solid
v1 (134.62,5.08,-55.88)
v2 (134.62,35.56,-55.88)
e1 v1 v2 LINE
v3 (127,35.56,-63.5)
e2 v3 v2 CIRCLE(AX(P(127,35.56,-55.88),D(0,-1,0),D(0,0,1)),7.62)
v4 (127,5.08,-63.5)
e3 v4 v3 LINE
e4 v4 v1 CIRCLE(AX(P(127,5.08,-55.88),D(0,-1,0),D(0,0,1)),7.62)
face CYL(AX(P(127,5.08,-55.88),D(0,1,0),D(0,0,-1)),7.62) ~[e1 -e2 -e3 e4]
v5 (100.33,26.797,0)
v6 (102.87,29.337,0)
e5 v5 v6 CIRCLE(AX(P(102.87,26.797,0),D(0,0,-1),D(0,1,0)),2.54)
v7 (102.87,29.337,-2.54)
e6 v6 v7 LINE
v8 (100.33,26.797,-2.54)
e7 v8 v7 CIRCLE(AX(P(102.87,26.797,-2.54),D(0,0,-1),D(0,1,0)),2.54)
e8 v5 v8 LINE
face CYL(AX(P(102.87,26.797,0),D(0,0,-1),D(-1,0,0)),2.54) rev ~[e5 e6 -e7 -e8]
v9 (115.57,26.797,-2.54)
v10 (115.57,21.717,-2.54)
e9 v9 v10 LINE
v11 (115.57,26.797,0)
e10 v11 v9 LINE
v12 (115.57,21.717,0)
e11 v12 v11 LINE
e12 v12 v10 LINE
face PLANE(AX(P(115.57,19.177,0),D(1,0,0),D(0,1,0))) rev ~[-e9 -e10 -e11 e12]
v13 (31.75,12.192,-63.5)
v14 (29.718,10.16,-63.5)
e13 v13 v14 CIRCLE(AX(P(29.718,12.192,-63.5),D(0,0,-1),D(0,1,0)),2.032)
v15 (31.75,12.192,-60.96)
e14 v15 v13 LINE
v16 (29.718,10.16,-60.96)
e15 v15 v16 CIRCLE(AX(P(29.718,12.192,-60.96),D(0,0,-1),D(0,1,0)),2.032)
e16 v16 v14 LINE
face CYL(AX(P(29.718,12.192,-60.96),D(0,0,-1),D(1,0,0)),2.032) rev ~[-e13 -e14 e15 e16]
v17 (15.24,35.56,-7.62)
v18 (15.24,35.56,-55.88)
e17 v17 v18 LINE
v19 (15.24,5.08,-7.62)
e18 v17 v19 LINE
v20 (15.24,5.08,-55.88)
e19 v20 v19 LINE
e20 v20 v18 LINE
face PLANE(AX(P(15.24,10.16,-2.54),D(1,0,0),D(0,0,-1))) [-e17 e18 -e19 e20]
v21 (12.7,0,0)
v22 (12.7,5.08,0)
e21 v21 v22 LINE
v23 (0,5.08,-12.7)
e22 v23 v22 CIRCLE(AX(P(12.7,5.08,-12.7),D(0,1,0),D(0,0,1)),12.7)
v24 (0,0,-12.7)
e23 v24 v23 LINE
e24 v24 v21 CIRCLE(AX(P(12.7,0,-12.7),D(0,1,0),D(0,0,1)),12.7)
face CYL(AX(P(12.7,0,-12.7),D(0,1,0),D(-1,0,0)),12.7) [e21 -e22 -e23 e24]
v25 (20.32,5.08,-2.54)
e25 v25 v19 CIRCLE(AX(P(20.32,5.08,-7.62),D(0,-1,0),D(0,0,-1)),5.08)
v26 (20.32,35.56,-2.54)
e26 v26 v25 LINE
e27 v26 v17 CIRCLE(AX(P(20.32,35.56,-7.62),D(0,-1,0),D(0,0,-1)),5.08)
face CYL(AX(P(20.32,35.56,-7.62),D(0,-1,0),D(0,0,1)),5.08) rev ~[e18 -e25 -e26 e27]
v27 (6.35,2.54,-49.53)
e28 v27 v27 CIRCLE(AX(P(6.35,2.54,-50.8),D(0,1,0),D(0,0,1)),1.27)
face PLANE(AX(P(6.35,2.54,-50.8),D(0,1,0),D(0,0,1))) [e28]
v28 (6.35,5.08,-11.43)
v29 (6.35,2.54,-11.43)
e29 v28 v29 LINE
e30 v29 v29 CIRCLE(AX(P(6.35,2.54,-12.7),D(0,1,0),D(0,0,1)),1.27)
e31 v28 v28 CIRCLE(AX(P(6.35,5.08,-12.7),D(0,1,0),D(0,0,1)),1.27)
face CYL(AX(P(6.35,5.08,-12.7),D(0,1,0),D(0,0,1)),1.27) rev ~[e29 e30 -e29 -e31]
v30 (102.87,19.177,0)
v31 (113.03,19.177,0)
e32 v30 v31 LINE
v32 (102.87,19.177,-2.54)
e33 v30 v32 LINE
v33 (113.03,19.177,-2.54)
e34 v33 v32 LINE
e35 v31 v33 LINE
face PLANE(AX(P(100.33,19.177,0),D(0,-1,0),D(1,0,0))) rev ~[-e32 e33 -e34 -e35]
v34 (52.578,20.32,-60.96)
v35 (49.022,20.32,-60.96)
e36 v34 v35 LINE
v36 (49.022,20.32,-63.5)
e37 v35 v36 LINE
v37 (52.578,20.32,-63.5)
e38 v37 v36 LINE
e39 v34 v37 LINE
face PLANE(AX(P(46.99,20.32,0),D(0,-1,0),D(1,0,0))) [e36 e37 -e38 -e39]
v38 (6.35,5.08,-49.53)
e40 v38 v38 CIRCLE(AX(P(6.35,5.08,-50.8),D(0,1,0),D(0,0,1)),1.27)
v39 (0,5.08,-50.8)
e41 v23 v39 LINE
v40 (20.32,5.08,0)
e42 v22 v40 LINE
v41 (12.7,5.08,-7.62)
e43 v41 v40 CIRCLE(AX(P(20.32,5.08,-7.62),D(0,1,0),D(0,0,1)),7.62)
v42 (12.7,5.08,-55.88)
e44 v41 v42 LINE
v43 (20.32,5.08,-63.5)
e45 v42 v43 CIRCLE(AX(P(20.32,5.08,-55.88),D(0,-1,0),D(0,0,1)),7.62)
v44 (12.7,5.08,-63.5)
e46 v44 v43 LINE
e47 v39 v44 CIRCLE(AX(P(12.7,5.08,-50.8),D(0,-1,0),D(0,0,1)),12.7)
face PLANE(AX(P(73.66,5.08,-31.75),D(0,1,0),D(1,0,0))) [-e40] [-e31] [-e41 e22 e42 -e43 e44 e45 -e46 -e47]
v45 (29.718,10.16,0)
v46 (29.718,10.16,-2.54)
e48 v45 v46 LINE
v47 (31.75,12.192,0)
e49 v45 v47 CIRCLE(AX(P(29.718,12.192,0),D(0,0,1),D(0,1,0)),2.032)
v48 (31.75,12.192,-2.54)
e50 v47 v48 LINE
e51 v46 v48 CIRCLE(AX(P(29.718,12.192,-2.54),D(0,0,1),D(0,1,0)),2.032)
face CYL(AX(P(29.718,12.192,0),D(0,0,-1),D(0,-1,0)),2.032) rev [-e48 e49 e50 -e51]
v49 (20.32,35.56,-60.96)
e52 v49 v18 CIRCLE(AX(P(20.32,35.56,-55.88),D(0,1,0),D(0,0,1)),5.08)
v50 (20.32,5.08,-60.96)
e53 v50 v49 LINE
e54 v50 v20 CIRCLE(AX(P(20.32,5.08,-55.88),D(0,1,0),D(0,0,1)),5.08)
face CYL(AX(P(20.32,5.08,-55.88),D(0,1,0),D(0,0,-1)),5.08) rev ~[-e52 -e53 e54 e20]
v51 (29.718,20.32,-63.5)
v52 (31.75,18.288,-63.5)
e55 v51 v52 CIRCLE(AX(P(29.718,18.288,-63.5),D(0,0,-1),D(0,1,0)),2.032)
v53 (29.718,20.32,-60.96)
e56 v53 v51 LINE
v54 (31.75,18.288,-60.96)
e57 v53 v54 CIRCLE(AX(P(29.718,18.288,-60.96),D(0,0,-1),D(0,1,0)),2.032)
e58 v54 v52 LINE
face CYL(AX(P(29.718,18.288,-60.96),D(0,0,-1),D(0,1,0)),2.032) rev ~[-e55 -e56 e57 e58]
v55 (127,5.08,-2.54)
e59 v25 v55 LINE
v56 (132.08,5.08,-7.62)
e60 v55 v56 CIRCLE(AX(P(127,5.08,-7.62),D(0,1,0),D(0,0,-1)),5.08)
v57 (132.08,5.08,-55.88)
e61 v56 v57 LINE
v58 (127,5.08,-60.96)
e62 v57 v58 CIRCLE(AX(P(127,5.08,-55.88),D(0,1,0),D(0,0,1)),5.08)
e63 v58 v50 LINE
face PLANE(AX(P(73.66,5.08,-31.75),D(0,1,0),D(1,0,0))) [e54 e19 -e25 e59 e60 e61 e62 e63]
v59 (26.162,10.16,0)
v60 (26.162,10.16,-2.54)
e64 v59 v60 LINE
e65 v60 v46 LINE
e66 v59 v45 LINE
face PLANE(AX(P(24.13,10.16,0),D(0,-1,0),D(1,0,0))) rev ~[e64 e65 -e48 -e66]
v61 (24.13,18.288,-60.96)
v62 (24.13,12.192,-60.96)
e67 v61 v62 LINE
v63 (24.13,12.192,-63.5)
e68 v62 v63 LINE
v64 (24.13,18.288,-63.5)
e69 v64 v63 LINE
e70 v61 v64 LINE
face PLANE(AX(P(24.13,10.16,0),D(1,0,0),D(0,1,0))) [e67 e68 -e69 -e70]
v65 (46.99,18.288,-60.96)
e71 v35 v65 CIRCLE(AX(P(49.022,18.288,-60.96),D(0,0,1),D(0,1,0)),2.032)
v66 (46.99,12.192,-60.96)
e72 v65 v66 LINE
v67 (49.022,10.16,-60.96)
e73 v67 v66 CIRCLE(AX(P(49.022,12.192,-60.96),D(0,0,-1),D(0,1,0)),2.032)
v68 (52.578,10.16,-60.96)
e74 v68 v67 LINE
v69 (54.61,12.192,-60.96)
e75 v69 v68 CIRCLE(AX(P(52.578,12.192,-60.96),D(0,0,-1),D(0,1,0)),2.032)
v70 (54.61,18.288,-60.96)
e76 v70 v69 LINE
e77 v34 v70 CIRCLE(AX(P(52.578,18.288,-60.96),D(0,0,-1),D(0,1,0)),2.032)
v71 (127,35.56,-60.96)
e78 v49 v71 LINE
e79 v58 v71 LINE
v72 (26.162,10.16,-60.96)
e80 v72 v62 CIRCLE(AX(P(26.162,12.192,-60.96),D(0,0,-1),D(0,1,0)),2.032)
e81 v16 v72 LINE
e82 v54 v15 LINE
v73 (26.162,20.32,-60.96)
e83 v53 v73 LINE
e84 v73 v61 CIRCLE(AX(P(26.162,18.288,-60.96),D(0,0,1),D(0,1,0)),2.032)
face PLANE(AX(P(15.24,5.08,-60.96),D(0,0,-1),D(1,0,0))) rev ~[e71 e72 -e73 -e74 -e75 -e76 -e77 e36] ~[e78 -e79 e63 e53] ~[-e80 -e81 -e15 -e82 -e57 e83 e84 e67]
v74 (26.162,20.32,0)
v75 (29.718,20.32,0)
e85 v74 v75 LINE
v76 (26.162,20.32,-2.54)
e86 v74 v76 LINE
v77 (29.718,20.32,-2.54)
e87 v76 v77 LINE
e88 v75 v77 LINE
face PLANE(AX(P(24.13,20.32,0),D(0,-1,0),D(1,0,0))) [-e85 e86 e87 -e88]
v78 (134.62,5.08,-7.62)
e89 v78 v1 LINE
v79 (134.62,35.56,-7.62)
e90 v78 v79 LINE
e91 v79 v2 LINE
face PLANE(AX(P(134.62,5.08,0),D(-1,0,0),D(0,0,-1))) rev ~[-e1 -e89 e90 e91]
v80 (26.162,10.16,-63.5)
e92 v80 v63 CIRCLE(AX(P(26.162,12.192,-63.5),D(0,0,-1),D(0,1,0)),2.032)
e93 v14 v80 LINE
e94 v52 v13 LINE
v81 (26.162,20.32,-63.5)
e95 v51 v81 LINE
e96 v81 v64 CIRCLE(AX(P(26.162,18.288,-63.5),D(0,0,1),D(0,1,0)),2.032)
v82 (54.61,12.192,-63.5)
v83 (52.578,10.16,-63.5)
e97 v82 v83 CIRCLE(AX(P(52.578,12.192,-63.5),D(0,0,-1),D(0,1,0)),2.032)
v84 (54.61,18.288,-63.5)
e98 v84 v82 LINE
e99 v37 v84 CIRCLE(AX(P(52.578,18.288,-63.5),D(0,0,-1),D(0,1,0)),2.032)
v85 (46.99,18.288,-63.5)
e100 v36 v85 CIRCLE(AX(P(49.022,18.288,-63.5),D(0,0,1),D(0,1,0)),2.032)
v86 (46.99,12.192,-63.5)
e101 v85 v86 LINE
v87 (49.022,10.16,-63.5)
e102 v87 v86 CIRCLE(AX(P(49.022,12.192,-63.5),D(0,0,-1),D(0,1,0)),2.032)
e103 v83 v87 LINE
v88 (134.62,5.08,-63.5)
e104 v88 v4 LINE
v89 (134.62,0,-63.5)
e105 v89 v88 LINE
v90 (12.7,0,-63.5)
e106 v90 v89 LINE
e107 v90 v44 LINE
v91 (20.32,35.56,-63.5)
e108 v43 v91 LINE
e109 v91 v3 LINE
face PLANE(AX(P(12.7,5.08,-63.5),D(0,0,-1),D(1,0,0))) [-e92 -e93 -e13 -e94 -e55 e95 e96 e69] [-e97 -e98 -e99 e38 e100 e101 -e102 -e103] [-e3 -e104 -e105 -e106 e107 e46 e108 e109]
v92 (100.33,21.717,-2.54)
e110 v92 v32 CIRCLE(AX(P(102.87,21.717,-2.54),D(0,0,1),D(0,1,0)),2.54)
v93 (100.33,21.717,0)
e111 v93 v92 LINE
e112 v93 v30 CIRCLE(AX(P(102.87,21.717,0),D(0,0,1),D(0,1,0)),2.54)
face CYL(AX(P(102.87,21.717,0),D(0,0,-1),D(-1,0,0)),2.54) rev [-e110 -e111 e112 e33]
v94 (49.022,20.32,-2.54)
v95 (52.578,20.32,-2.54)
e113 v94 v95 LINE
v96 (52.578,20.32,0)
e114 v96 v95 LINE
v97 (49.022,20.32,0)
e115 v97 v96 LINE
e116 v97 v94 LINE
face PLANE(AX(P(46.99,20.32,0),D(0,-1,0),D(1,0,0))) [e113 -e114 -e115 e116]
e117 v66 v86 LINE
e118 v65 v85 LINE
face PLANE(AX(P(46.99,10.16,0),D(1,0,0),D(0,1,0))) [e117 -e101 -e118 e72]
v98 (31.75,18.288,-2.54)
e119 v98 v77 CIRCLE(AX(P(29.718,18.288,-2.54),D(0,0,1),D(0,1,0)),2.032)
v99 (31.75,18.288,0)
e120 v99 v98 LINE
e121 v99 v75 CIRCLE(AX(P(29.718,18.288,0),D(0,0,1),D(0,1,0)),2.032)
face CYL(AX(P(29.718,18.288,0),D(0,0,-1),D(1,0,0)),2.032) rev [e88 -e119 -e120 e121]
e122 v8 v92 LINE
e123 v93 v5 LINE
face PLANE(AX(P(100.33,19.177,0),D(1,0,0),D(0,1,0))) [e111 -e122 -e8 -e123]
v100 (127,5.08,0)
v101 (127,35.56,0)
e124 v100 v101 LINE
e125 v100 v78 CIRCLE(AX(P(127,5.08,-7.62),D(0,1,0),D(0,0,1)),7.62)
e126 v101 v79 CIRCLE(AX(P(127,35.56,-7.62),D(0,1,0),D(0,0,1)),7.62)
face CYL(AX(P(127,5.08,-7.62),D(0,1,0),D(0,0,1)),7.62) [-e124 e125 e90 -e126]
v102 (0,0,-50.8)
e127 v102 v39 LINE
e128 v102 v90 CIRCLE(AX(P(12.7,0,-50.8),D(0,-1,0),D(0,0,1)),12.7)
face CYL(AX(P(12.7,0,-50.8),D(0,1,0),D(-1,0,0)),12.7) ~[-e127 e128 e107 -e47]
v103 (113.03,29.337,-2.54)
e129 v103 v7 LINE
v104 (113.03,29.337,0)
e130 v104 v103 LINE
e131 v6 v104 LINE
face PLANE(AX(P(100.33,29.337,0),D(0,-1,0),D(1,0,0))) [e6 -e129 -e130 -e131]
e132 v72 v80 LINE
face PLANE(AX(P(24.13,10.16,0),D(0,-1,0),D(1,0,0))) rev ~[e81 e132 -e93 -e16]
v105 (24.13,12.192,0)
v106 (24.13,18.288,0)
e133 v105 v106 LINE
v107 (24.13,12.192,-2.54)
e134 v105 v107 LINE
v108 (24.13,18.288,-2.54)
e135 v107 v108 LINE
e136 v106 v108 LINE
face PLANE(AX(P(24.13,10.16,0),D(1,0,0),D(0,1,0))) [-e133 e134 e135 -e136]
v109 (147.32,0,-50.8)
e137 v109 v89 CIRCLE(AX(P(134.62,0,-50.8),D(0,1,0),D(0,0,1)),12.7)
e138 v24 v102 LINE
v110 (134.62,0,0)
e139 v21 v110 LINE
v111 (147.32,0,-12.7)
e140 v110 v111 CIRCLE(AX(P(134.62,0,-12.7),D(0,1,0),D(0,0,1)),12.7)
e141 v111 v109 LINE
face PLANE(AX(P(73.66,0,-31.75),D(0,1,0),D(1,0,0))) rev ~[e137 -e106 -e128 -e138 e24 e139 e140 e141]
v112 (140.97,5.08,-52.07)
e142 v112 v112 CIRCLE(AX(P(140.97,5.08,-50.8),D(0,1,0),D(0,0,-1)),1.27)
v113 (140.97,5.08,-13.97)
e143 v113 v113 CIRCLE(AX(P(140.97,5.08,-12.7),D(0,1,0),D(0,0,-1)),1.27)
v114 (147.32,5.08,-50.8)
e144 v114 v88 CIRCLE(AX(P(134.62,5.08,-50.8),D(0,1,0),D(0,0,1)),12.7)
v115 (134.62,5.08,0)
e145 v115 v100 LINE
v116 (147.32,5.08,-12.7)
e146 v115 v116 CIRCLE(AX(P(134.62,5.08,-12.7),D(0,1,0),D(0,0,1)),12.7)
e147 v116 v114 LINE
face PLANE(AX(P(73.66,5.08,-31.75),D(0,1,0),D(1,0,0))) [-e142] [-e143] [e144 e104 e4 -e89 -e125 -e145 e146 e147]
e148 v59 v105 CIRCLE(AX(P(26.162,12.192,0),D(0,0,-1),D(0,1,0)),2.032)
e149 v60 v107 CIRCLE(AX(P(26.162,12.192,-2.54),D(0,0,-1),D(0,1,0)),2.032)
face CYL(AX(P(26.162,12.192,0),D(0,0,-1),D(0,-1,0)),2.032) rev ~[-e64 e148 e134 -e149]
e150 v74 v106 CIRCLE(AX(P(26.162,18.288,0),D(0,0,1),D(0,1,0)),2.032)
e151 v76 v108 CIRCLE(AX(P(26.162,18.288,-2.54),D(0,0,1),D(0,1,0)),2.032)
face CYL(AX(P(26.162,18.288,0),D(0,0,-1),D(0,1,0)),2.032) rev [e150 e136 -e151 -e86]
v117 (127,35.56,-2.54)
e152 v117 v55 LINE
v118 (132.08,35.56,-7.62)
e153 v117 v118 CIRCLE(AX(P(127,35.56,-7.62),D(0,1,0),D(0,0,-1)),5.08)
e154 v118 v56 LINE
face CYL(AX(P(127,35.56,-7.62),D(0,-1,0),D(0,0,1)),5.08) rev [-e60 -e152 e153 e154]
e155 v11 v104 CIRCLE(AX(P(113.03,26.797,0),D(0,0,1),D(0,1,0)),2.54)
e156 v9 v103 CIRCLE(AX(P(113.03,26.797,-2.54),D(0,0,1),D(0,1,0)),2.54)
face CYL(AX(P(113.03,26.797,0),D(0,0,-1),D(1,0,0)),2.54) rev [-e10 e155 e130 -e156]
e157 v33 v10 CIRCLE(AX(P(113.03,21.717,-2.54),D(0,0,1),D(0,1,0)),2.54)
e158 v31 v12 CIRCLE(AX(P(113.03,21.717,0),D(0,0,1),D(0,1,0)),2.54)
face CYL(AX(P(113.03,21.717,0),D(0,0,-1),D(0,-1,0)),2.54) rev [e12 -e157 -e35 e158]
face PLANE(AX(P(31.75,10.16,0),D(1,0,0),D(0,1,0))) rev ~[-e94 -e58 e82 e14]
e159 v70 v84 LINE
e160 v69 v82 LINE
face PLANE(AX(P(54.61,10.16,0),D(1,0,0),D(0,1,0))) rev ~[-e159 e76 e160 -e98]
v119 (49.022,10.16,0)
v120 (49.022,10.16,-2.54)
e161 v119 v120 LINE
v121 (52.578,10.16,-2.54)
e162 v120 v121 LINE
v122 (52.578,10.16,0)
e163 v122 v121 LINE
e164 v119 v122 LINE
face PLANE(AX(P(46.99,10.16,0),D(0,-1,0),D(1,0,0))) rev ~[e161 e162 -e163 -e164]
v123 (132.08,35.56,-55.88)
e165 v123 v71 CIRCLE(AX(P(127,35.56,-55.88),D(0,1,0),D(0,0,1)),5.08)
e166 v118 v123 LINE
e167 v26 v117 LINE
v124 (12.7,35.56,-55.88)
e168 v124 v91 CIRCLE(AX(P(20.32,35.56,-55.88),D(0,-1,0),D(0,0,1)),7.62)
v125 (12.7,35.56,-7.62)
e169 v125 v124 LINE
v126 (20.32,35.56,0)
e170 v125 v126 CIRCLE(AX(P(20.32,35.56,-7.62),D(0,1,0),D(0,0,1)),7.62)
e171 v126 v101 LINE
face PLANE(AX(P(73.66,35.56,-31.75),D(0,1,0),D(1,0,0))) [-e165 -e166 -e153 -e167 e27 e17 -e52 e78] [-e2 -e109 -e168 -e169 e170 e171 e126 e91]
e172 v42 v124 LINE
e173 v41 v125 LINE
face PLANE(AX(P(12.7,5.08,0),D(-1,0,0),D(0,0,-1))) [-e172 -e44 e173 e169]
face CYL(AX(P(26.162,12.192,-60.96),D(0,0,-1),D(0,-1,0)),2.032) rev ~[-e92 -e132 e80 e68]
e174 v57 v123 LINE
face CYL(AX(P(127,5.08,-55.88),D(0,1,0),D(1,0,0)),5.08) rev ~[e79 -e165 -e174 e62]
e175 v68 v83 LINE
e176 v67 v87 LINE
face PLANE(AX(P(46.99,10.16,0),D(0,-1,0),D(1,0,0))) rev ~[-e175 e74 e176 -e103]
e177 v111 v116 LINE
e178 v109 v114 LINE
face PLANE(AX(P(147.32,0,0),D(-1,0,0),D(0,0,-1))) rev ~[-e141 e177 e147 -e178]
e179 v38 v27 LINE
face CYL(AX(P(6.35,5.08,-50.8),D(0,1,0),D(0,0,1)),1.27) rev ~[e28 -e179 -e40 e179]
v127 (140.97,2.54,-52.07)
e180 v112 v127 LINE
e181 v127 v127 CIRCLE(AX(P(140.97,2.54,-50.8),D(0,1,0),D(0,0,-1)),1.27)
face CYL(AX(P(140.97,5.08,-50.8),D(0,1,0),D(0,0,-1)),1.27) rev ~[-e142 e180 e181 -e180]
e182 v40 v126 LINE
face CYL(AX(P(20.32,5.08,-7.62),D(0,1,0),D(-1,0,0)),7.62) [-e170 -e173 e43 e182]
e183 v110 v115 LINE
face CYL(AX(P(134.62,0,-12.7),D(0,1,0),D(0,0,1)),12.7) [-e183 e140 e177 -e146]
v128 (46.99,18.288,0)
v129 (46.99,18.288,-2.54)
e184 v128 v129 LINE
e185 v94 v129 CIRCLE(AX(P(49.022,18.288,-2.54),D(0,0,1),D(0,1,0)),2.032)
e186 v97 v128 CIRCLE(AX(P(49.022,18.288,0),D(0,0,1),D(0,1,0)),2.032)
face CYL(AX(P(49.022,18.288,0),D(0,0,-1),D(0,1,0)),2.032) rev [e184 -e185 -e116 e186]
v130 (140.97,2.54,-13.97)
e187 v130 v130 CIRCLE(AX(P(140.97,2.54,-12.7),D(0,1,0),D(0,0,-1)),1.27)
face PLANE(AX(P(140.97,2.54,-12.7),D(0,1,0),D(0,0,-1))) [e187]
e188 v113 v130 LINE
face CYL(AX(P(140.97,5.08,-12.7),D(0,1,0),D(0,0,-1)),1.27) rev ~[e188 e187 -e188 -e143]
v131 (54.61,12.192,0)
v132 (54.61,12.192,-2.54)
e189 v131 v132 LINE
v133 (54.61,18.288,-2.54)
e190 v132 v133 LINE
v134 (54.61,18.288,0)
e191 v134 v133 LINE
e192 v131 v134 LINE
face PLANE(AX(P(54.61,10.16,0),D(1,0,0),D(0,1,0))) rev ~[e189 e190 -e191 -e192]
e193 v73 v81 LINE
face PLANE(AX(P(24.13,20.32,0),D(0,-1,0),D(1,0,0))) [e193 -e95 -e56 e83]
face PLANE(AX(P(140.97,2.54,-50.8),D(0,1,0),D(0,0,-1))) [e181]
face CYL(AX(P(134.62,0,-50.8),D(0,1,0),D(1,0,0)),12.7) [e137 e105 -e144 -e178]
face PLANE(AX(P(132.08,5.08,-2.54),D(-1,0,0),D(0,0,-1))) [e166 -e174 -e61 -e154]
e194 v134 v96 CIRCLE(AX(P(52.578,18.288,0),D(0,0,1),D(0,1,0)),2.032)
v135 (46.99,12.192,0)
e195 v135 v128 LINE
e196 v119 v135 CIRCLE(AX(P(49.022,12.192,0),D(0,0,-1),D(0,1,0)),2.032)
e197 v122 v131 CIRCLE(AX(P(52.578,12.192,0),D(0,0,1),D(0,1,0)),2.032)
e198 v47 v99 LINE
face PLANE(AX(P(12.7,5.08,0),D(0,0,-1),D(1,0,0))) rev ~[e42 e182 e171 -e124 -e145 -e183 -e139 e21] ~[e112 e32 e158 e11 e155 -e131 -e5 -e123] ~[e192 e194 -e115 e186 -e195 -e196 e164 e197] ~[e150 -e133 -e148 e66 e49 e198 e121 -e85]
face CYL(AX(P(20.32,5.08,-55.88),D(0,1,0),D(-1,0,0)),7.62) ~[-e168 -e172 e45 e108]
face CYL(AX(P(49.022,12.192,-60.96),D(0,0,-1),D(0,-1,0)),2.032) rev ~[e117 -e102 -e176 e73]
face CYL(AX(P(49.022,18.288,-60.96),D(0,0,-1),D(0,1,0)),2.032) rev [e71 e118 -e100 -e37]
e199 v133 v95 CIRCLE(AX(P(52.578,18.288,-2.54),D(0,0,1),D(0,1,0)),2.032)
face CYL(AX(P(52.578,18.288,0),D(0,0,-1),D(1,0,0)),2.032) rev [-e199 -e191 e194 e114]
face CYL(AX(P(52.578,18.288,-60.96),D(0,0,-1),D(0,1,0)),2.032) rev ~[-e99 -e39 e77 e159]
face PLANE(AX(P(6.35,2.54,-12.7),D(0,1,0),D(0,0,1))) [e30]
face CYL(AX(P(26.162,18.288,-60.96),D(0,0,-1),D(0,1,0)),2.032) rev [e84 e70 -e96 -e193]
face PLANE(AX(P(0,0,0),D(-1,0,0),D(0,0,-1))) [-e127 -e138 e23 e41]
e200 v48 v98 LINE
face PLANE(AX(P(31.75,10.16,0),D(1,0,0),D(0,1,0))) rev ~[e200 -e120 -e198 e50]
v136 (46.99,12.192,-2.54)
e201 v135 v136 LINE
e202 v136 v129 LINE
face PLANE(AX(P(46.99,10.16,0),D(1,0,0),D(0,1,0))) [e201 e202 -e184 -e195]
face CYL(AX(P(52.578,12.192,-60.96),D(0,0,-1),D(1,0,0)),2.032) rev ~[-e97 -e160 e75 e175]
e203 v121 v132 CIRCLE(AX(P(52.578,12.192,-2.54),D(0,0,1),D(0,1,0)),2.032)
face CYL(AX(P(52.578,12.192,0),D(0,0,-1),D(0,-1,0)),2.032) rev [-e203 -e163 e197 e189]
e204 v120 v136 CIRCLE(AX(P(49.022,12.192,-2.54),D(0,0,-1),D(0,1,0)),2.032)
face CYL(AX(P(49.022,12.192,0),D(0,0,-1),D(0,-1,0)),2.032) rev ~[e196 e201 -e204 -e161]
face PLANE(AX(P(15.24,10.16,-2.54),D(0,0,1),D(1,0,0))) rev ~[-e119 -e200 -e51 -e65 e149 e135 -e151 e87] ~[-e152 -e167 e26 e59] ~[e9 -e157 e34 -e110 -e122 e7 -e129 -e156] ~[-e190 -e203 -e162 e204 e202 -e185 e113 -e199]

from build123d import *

# Parameters (mm, degrees)
SKETCH1_W            = 147.32
SKETCH1_H            = 63.5
BOSS_EXTRUDE3_DEPTH  = 5.08
FILLET4_R            = 12.7
SKETCH4_W            = 121.92
SKETCH4_H            = 63.5
SKETCH4_W_2          = 116.84
SKETCH4_H_2          = 58.42
BOSS_EXTRUDE4_DEPTH  = 30.48
SKETCH9_W            = 10.16
SKETCH9_H            = 10.16
BOSS_EXTRUDE5_DEPTH  = 5.08
FILLET9_R            = 5.08
SKETCH10_R           = 3.175
CUT_EXTRUDE7_DEPTH   = 163.421034352
FILLET12_R           = 7.62
SKETCH11_R           = 3.175
SKETCH11_R_2         = 1.27
BOSS_EXTRUDE7_DEPTH  = 5.08
SKETCH15_R           = 1.27
CUT_EXTRUDE10_DEPTH  = 2.54
BOSS_EXTRUDE9_START  = -2.54
SKETCH16_R           = 3.175
BOSS_EXTRUDE9_DEPTH  = 2.54
SKETCH17_W           = 116.84
SKETCH17_H           = 58.42
CUT_EXTRUDE11_DEPTH  = 5.08
SKETCH18_W           = 116.84
SKETCH18_H           = 58.42
BOSS_EXTRUDE10_DEPTH = 5.08
FILLET16_R           = 5.08
SKETCH13_W           = 7.62
SKETCH13_H           = 10.16
CUT_EXTRUDE12_DEPTH  = 165.316602935
FILLET17_R           = 2.032
CUT_EXTRUDE14_REACH  = 166.317
SKETCH12_W           = 15.24
SKETCH12_H           = 10.16
FILLET18_R           = 2.54


with BuildPart() as part:
    # Sketch1 → Boss-Extrude3 (new body)
    with BuildSketch(Plane(origin=(0, 0, 0), x_dir=(1, 0, 0), z_dir=(0, 1, 0))):
        with Locations((73.66, 31.75)):
            Rectangle(SKETCH1_W, SKETCH1_H)
    extrude(amount=BOSS_EXTRUDE3_DEPTH)

    # Fillet4
    fillet4_edges = [part.edges().sort_by_distance(p)[0] for p in [
        (0, 2.54, -63.5),
        (147.32, 2.54, -63.5),
        (147.32, 2.54, 0),
        (0, 2.54, 0),
    ]]
    fillet(fillet4_edges, radius=FILLET4_R)

    # Sketch4 → Boss-Extrude4 (add)
    with BuildSketch(Plane(origin=(0, 5.08, 0), x_dir=(1, 0, 0), z_dir=(0, 1, 0))):
        with Locations((73.66, 31.75)):
            Rectangle(SKETCH4_W, SKETCH4_H)
        with Locations((73.66, 31.75)):
            Rectangle(SKETCH4_W_2, SKETCH4_H_2, mode=Mode.SUBTRACT)
    extrude(amount=BOSS_EXTRUDE4_DEPTH)

    # Sketch9 → Boss-Extrude5 (add)
    with BuildSketch(Plane(origin=(0, 5.08, 0), x_dir=(1, 0, 0), z_dir=(0, 1, 0))):
        with Locations((20.32, 55.88)):
            Rectangle(SKETCH9_W, SKETCH9_H)
        with Locations((127, 55.88)):
            Rectangle(SKETCH9_W, SKETCH9_H)
        with Locations((127, 7.62)):
            Rectangle(SKETCH9_W, SKETCH9_H)
        with Locations((20.32, 7.62)):
            Rectangle(SKETCH9_W, SKETCH9_H)
    extrude(amount=BOSS_EXTRUDE5_DEPTH)

    # Fillet9
    fillet9_edges = [part.edges().sort_by_distance(p)[0] for p in [
        (25.4, 7.62, -12.7),
        (25.4, 7.62, -50.8),
        (121.92, 7.62, -50.8),
        (121.92, 7.62, -12.7),
    ]]
    fillet(fillet9_edges, radius=FILLET9_R)

    # Sketch10 → Cut-Extrude7 (cut, through all)
    with BuildSketch(Plane(origin=(0, 10.16, 0), x_dir=(1, 0, 0), z_dir=(0, 1, 0))):
        with Locations(Location((20.32, 55.88, 0), (0, 0, 270))):
            Circle(SKETCH10_R)
        with Locations(Location((127, 55.88, 0), (0, 0, 270))):
            Circle(SKETCH10_R)
        with Locations(Location((20.32, 7.62, 0), (0, 0, 270))):
            Circle(SKETCH10_R)
        with Locations(Location((127, 7.62, 0), (0, 0, 270))):
            Circle(SKETCH10_R)
    extrude(amount=-CUT_EXTRUDE7_DEPTH, mode=Mode.SUBTRACT)

    # Fillet12
    fillet12_edges = [part.edges().sort_by_distance(p)[0] for p in [
        (12.7, 20.32, -63.5),
        (12.7, 20.32, 0),
        (134.62, 20.32, 0),
        (134.62, 20.32, -63.5),
    ]]
    fillet(fillet12_edges, radius=FILLET12_R)

    # Sketch11 → Boss-Extrude7 (add)
    # profile 1 of 4: a face of its own
    with BuildSketch(Plane(origin=(0, 10.16, 0), x_dir=(1, 0, 0), z_dir=(0, 1, 0))):
        with Locations(Location((20.32, 55.88, 0), (0, 0, 270))):
            Circle(SKETCH11_R)
        with Locations(Location((20.32, 55.88, 0), (0, 0, 270))):
            Circle(SKETCH11_R_2, mode=Mode.SUBTRACT)
    # profile 2 of 4: a face of its own
    with BuildSketch(Plane(origin=(0, 10.16, 0), x_dir=(1, 0, 0), z_dir=(0, 1, 0))):
        with Locations(Location((127, 55.88, 0), (0, 0, 270))):
            Circle(SKETCH11_R)
        with Locations(Location((127, 55.88, 0), (0, 0, 270))):
            Circle(SKETCH11_R_2, mode=Mode.SUBTRACT)
    # profile 3 of 4: a face of its own
    with BuildSketch(Plane(origin=(0, 10.16, 0), x_dir=(1, 0, 0), z_dir=(0, 1, 0))):
        with Locations(Location((20.32, 7.62, 0), (0, 0, 270))):
            Circle(SKETCH11_R)
        with Locations(Location((20.32, 7.62, 0), (0, 0, 270))):
            Circle(SKETCH11_R_2, mode=Mode.SUBTRACT)
    # profile 4 of 4: a face of its own
    with BuildSketch(Plane(origin=(0, 10.16, 0), x_dir=(1, 0, 0), z_dir=(0, 1, 0))):
        with Locations(Location((127, 7.62, 0), (0, 0, 270))):
            Circle(SKETCH11_R)
        with Locations(Location((127, 7.62, 0), (0, 0, 270))):
            Circle(SKETCH11_R_2, mode=Mode.SUBTRACT)
    extrude(amount=-BOSS_EXTRUDE7_DEPTH)

    # Sketch15 → Cut-Extrude10 (cut)
    with BuildSketch(Plane(origin=(0, 5.08, 0), x_dir=(1, 0, 0), z_dir=(0, 1, 0))):
        with Locations(Location((6.35, 50.8, 0), (0, 0, 270))):
            Circle(SKETCH15_R)
        with Locations(Location((6.35, 12.7, 0), (0, 0, 270))):
            Circle(SKETCH15_R)
        with Locations(Location((140.97, 12.7, 0), (0, 0, 90))):
            Circle(SKETCH15_R)
        with Locations(Location((140.97, 50.8, 0), (0, 0, 90))):
            Circle(SKETCH15_R)
    extrude(amount=-CUT_EXTRUDE10_DEPTH, mode=Mode.SUBTRACT)

    # Sketch16 → Boss-Extrude9 (add)
    with BuildSketch(Plane.XZ.offset(BOSS_EXTRUDE9_START)):
        with Locations(Location((20.32, -7.62, 0), (0, 0, 90))):
            Circle(SKETCH16_R)
        with Locations(Location((127, -7.62, 0), (0, 0, 90))):
            Circle(SKETCH16_R)
        with Locations(Location((20.32, -55.88, 0), (0, 0, 90))):
            Circle(SKETCH16_R)
        with Locations(Location((127, -55.88, 0), (0, 0, 90))):
            Circle(SKETCH16_R)
    extrude(amount=BOSS_EXTRUDE9_DEPTH)

    # Sketch17 → Cut-Extrude11 (cut)
    with BuildSketch(Plane(origin=(0, 10.16, 0), x_dir=(1, 0, 0), z_dir=(0, 1, 0))):
        with Locations((73.66, 31.75)):
            Rectangle(SKETCH17_W, SKETCH17_H)
    extrude(amount=-CUT_EXTRUDE11_DEPTH, mode=Mode.SUBTRACT)

    # Sketch18 → Boss-Extrude10 (add)
    with BuildSketch(Plane(origin=(0, 5.08, 0), x_dir=(1, 0, 0), z_dir=(0, 1, 0))):
        with Locations((73.66, 31.75)):
            Rectangle(SKETCH18_W, SKETCH18_H)
    extrude(amount=-BOSS_EXTRUDE10_DEPTH)

    # Fillet16
    fillet16_edges = [part.edges().sort_by_distance(p)[0] for p in [
        (15.24, 20.32, -2.54),
        (132.08, 20.32, -2.54),
        (132.08, 20.32, -60.96),
        (15.24, 20.32, -60.96),
    ]]
    fillet(fillet16_edges, radius=FILLET16_R)

    # Sketch13 → Cut-Extrude12 (cut, through all)
    with BuildSketch(Plane.XY):
        with Locations((27.94, 15.24)):
            Rectangle(SKETCH13_W, SKETCH13_H)
        with Locations((50.8, 15.24)):
            Rectangle(SKETCH13_W, SKETCH13_H)
    extrude(amount=-CUT_EXTRUDE12_DEPTH, mode=Mode.SUBTRACT)

    # Fillet17
    fillet17_edges = [part.edges().sort_by_distance(p)[0] for p in [
        (24.13, 10.16, -1.27),
        (24.13, 20.32, -1.27),
        (31.75, 20.32, -1.27),
        (31.75, 10.16, -1.27),
        (24.13, 10.16, -62.23),
        (24.13, 20.32, -62.23),
        (31.75, 20.32, -62.23),
        (31.75, 10.16, -62.23),
        (46.99, 10.16, -1.27),
        (46.99, 20.32, -1.27),
        (54.61, 20.32, -1.27),
        (54.61, 10.16, -1.27),
        (46.99, 10.16, -62.23),
        (46.99, 20.32, -62.23),
        (54.61, 20.32, -62.23),
        (54.61, 10.16, -62.23),
    ]]
    fillet(fillet17_edges, radius=FILLET17_R)

    # Sketch12 → Cut-Extrude14 (cut, up to next)
    with BuildSketch(Plane.XY, mode=Mode.PRIVATE) as cut_extrude14_sk1:
        with Locations((107.95, 24.257)):
            Rectangle(SKETCH12_W, SKETCH12_H)
    cut_extrude14_tool1 = extrude(cut_extrude14_sk1.sketch, amount=-CUT_EXTRUDE14_REACH, mode=Mode.PRIVATE) & part.part
    add(cut_extrude14_tool1.solids().sort_by_distance((107.95, 24.257, 0))[0], mode=Mode.SUBTRACT)

    # Fillet18
    fillet18_edges = [part.edges().sort_by_distance(p)[0] for p in [
        (100.33, 19.177, -1.27),
        (100.33, 29.337, -1.27),
        (115.57, 29.337, -1.27),
        (115.57, 19.177, -1.27),
    ]]
    fillet(fillet18_edges, radius=FILLET18_R)


solid = part.part
